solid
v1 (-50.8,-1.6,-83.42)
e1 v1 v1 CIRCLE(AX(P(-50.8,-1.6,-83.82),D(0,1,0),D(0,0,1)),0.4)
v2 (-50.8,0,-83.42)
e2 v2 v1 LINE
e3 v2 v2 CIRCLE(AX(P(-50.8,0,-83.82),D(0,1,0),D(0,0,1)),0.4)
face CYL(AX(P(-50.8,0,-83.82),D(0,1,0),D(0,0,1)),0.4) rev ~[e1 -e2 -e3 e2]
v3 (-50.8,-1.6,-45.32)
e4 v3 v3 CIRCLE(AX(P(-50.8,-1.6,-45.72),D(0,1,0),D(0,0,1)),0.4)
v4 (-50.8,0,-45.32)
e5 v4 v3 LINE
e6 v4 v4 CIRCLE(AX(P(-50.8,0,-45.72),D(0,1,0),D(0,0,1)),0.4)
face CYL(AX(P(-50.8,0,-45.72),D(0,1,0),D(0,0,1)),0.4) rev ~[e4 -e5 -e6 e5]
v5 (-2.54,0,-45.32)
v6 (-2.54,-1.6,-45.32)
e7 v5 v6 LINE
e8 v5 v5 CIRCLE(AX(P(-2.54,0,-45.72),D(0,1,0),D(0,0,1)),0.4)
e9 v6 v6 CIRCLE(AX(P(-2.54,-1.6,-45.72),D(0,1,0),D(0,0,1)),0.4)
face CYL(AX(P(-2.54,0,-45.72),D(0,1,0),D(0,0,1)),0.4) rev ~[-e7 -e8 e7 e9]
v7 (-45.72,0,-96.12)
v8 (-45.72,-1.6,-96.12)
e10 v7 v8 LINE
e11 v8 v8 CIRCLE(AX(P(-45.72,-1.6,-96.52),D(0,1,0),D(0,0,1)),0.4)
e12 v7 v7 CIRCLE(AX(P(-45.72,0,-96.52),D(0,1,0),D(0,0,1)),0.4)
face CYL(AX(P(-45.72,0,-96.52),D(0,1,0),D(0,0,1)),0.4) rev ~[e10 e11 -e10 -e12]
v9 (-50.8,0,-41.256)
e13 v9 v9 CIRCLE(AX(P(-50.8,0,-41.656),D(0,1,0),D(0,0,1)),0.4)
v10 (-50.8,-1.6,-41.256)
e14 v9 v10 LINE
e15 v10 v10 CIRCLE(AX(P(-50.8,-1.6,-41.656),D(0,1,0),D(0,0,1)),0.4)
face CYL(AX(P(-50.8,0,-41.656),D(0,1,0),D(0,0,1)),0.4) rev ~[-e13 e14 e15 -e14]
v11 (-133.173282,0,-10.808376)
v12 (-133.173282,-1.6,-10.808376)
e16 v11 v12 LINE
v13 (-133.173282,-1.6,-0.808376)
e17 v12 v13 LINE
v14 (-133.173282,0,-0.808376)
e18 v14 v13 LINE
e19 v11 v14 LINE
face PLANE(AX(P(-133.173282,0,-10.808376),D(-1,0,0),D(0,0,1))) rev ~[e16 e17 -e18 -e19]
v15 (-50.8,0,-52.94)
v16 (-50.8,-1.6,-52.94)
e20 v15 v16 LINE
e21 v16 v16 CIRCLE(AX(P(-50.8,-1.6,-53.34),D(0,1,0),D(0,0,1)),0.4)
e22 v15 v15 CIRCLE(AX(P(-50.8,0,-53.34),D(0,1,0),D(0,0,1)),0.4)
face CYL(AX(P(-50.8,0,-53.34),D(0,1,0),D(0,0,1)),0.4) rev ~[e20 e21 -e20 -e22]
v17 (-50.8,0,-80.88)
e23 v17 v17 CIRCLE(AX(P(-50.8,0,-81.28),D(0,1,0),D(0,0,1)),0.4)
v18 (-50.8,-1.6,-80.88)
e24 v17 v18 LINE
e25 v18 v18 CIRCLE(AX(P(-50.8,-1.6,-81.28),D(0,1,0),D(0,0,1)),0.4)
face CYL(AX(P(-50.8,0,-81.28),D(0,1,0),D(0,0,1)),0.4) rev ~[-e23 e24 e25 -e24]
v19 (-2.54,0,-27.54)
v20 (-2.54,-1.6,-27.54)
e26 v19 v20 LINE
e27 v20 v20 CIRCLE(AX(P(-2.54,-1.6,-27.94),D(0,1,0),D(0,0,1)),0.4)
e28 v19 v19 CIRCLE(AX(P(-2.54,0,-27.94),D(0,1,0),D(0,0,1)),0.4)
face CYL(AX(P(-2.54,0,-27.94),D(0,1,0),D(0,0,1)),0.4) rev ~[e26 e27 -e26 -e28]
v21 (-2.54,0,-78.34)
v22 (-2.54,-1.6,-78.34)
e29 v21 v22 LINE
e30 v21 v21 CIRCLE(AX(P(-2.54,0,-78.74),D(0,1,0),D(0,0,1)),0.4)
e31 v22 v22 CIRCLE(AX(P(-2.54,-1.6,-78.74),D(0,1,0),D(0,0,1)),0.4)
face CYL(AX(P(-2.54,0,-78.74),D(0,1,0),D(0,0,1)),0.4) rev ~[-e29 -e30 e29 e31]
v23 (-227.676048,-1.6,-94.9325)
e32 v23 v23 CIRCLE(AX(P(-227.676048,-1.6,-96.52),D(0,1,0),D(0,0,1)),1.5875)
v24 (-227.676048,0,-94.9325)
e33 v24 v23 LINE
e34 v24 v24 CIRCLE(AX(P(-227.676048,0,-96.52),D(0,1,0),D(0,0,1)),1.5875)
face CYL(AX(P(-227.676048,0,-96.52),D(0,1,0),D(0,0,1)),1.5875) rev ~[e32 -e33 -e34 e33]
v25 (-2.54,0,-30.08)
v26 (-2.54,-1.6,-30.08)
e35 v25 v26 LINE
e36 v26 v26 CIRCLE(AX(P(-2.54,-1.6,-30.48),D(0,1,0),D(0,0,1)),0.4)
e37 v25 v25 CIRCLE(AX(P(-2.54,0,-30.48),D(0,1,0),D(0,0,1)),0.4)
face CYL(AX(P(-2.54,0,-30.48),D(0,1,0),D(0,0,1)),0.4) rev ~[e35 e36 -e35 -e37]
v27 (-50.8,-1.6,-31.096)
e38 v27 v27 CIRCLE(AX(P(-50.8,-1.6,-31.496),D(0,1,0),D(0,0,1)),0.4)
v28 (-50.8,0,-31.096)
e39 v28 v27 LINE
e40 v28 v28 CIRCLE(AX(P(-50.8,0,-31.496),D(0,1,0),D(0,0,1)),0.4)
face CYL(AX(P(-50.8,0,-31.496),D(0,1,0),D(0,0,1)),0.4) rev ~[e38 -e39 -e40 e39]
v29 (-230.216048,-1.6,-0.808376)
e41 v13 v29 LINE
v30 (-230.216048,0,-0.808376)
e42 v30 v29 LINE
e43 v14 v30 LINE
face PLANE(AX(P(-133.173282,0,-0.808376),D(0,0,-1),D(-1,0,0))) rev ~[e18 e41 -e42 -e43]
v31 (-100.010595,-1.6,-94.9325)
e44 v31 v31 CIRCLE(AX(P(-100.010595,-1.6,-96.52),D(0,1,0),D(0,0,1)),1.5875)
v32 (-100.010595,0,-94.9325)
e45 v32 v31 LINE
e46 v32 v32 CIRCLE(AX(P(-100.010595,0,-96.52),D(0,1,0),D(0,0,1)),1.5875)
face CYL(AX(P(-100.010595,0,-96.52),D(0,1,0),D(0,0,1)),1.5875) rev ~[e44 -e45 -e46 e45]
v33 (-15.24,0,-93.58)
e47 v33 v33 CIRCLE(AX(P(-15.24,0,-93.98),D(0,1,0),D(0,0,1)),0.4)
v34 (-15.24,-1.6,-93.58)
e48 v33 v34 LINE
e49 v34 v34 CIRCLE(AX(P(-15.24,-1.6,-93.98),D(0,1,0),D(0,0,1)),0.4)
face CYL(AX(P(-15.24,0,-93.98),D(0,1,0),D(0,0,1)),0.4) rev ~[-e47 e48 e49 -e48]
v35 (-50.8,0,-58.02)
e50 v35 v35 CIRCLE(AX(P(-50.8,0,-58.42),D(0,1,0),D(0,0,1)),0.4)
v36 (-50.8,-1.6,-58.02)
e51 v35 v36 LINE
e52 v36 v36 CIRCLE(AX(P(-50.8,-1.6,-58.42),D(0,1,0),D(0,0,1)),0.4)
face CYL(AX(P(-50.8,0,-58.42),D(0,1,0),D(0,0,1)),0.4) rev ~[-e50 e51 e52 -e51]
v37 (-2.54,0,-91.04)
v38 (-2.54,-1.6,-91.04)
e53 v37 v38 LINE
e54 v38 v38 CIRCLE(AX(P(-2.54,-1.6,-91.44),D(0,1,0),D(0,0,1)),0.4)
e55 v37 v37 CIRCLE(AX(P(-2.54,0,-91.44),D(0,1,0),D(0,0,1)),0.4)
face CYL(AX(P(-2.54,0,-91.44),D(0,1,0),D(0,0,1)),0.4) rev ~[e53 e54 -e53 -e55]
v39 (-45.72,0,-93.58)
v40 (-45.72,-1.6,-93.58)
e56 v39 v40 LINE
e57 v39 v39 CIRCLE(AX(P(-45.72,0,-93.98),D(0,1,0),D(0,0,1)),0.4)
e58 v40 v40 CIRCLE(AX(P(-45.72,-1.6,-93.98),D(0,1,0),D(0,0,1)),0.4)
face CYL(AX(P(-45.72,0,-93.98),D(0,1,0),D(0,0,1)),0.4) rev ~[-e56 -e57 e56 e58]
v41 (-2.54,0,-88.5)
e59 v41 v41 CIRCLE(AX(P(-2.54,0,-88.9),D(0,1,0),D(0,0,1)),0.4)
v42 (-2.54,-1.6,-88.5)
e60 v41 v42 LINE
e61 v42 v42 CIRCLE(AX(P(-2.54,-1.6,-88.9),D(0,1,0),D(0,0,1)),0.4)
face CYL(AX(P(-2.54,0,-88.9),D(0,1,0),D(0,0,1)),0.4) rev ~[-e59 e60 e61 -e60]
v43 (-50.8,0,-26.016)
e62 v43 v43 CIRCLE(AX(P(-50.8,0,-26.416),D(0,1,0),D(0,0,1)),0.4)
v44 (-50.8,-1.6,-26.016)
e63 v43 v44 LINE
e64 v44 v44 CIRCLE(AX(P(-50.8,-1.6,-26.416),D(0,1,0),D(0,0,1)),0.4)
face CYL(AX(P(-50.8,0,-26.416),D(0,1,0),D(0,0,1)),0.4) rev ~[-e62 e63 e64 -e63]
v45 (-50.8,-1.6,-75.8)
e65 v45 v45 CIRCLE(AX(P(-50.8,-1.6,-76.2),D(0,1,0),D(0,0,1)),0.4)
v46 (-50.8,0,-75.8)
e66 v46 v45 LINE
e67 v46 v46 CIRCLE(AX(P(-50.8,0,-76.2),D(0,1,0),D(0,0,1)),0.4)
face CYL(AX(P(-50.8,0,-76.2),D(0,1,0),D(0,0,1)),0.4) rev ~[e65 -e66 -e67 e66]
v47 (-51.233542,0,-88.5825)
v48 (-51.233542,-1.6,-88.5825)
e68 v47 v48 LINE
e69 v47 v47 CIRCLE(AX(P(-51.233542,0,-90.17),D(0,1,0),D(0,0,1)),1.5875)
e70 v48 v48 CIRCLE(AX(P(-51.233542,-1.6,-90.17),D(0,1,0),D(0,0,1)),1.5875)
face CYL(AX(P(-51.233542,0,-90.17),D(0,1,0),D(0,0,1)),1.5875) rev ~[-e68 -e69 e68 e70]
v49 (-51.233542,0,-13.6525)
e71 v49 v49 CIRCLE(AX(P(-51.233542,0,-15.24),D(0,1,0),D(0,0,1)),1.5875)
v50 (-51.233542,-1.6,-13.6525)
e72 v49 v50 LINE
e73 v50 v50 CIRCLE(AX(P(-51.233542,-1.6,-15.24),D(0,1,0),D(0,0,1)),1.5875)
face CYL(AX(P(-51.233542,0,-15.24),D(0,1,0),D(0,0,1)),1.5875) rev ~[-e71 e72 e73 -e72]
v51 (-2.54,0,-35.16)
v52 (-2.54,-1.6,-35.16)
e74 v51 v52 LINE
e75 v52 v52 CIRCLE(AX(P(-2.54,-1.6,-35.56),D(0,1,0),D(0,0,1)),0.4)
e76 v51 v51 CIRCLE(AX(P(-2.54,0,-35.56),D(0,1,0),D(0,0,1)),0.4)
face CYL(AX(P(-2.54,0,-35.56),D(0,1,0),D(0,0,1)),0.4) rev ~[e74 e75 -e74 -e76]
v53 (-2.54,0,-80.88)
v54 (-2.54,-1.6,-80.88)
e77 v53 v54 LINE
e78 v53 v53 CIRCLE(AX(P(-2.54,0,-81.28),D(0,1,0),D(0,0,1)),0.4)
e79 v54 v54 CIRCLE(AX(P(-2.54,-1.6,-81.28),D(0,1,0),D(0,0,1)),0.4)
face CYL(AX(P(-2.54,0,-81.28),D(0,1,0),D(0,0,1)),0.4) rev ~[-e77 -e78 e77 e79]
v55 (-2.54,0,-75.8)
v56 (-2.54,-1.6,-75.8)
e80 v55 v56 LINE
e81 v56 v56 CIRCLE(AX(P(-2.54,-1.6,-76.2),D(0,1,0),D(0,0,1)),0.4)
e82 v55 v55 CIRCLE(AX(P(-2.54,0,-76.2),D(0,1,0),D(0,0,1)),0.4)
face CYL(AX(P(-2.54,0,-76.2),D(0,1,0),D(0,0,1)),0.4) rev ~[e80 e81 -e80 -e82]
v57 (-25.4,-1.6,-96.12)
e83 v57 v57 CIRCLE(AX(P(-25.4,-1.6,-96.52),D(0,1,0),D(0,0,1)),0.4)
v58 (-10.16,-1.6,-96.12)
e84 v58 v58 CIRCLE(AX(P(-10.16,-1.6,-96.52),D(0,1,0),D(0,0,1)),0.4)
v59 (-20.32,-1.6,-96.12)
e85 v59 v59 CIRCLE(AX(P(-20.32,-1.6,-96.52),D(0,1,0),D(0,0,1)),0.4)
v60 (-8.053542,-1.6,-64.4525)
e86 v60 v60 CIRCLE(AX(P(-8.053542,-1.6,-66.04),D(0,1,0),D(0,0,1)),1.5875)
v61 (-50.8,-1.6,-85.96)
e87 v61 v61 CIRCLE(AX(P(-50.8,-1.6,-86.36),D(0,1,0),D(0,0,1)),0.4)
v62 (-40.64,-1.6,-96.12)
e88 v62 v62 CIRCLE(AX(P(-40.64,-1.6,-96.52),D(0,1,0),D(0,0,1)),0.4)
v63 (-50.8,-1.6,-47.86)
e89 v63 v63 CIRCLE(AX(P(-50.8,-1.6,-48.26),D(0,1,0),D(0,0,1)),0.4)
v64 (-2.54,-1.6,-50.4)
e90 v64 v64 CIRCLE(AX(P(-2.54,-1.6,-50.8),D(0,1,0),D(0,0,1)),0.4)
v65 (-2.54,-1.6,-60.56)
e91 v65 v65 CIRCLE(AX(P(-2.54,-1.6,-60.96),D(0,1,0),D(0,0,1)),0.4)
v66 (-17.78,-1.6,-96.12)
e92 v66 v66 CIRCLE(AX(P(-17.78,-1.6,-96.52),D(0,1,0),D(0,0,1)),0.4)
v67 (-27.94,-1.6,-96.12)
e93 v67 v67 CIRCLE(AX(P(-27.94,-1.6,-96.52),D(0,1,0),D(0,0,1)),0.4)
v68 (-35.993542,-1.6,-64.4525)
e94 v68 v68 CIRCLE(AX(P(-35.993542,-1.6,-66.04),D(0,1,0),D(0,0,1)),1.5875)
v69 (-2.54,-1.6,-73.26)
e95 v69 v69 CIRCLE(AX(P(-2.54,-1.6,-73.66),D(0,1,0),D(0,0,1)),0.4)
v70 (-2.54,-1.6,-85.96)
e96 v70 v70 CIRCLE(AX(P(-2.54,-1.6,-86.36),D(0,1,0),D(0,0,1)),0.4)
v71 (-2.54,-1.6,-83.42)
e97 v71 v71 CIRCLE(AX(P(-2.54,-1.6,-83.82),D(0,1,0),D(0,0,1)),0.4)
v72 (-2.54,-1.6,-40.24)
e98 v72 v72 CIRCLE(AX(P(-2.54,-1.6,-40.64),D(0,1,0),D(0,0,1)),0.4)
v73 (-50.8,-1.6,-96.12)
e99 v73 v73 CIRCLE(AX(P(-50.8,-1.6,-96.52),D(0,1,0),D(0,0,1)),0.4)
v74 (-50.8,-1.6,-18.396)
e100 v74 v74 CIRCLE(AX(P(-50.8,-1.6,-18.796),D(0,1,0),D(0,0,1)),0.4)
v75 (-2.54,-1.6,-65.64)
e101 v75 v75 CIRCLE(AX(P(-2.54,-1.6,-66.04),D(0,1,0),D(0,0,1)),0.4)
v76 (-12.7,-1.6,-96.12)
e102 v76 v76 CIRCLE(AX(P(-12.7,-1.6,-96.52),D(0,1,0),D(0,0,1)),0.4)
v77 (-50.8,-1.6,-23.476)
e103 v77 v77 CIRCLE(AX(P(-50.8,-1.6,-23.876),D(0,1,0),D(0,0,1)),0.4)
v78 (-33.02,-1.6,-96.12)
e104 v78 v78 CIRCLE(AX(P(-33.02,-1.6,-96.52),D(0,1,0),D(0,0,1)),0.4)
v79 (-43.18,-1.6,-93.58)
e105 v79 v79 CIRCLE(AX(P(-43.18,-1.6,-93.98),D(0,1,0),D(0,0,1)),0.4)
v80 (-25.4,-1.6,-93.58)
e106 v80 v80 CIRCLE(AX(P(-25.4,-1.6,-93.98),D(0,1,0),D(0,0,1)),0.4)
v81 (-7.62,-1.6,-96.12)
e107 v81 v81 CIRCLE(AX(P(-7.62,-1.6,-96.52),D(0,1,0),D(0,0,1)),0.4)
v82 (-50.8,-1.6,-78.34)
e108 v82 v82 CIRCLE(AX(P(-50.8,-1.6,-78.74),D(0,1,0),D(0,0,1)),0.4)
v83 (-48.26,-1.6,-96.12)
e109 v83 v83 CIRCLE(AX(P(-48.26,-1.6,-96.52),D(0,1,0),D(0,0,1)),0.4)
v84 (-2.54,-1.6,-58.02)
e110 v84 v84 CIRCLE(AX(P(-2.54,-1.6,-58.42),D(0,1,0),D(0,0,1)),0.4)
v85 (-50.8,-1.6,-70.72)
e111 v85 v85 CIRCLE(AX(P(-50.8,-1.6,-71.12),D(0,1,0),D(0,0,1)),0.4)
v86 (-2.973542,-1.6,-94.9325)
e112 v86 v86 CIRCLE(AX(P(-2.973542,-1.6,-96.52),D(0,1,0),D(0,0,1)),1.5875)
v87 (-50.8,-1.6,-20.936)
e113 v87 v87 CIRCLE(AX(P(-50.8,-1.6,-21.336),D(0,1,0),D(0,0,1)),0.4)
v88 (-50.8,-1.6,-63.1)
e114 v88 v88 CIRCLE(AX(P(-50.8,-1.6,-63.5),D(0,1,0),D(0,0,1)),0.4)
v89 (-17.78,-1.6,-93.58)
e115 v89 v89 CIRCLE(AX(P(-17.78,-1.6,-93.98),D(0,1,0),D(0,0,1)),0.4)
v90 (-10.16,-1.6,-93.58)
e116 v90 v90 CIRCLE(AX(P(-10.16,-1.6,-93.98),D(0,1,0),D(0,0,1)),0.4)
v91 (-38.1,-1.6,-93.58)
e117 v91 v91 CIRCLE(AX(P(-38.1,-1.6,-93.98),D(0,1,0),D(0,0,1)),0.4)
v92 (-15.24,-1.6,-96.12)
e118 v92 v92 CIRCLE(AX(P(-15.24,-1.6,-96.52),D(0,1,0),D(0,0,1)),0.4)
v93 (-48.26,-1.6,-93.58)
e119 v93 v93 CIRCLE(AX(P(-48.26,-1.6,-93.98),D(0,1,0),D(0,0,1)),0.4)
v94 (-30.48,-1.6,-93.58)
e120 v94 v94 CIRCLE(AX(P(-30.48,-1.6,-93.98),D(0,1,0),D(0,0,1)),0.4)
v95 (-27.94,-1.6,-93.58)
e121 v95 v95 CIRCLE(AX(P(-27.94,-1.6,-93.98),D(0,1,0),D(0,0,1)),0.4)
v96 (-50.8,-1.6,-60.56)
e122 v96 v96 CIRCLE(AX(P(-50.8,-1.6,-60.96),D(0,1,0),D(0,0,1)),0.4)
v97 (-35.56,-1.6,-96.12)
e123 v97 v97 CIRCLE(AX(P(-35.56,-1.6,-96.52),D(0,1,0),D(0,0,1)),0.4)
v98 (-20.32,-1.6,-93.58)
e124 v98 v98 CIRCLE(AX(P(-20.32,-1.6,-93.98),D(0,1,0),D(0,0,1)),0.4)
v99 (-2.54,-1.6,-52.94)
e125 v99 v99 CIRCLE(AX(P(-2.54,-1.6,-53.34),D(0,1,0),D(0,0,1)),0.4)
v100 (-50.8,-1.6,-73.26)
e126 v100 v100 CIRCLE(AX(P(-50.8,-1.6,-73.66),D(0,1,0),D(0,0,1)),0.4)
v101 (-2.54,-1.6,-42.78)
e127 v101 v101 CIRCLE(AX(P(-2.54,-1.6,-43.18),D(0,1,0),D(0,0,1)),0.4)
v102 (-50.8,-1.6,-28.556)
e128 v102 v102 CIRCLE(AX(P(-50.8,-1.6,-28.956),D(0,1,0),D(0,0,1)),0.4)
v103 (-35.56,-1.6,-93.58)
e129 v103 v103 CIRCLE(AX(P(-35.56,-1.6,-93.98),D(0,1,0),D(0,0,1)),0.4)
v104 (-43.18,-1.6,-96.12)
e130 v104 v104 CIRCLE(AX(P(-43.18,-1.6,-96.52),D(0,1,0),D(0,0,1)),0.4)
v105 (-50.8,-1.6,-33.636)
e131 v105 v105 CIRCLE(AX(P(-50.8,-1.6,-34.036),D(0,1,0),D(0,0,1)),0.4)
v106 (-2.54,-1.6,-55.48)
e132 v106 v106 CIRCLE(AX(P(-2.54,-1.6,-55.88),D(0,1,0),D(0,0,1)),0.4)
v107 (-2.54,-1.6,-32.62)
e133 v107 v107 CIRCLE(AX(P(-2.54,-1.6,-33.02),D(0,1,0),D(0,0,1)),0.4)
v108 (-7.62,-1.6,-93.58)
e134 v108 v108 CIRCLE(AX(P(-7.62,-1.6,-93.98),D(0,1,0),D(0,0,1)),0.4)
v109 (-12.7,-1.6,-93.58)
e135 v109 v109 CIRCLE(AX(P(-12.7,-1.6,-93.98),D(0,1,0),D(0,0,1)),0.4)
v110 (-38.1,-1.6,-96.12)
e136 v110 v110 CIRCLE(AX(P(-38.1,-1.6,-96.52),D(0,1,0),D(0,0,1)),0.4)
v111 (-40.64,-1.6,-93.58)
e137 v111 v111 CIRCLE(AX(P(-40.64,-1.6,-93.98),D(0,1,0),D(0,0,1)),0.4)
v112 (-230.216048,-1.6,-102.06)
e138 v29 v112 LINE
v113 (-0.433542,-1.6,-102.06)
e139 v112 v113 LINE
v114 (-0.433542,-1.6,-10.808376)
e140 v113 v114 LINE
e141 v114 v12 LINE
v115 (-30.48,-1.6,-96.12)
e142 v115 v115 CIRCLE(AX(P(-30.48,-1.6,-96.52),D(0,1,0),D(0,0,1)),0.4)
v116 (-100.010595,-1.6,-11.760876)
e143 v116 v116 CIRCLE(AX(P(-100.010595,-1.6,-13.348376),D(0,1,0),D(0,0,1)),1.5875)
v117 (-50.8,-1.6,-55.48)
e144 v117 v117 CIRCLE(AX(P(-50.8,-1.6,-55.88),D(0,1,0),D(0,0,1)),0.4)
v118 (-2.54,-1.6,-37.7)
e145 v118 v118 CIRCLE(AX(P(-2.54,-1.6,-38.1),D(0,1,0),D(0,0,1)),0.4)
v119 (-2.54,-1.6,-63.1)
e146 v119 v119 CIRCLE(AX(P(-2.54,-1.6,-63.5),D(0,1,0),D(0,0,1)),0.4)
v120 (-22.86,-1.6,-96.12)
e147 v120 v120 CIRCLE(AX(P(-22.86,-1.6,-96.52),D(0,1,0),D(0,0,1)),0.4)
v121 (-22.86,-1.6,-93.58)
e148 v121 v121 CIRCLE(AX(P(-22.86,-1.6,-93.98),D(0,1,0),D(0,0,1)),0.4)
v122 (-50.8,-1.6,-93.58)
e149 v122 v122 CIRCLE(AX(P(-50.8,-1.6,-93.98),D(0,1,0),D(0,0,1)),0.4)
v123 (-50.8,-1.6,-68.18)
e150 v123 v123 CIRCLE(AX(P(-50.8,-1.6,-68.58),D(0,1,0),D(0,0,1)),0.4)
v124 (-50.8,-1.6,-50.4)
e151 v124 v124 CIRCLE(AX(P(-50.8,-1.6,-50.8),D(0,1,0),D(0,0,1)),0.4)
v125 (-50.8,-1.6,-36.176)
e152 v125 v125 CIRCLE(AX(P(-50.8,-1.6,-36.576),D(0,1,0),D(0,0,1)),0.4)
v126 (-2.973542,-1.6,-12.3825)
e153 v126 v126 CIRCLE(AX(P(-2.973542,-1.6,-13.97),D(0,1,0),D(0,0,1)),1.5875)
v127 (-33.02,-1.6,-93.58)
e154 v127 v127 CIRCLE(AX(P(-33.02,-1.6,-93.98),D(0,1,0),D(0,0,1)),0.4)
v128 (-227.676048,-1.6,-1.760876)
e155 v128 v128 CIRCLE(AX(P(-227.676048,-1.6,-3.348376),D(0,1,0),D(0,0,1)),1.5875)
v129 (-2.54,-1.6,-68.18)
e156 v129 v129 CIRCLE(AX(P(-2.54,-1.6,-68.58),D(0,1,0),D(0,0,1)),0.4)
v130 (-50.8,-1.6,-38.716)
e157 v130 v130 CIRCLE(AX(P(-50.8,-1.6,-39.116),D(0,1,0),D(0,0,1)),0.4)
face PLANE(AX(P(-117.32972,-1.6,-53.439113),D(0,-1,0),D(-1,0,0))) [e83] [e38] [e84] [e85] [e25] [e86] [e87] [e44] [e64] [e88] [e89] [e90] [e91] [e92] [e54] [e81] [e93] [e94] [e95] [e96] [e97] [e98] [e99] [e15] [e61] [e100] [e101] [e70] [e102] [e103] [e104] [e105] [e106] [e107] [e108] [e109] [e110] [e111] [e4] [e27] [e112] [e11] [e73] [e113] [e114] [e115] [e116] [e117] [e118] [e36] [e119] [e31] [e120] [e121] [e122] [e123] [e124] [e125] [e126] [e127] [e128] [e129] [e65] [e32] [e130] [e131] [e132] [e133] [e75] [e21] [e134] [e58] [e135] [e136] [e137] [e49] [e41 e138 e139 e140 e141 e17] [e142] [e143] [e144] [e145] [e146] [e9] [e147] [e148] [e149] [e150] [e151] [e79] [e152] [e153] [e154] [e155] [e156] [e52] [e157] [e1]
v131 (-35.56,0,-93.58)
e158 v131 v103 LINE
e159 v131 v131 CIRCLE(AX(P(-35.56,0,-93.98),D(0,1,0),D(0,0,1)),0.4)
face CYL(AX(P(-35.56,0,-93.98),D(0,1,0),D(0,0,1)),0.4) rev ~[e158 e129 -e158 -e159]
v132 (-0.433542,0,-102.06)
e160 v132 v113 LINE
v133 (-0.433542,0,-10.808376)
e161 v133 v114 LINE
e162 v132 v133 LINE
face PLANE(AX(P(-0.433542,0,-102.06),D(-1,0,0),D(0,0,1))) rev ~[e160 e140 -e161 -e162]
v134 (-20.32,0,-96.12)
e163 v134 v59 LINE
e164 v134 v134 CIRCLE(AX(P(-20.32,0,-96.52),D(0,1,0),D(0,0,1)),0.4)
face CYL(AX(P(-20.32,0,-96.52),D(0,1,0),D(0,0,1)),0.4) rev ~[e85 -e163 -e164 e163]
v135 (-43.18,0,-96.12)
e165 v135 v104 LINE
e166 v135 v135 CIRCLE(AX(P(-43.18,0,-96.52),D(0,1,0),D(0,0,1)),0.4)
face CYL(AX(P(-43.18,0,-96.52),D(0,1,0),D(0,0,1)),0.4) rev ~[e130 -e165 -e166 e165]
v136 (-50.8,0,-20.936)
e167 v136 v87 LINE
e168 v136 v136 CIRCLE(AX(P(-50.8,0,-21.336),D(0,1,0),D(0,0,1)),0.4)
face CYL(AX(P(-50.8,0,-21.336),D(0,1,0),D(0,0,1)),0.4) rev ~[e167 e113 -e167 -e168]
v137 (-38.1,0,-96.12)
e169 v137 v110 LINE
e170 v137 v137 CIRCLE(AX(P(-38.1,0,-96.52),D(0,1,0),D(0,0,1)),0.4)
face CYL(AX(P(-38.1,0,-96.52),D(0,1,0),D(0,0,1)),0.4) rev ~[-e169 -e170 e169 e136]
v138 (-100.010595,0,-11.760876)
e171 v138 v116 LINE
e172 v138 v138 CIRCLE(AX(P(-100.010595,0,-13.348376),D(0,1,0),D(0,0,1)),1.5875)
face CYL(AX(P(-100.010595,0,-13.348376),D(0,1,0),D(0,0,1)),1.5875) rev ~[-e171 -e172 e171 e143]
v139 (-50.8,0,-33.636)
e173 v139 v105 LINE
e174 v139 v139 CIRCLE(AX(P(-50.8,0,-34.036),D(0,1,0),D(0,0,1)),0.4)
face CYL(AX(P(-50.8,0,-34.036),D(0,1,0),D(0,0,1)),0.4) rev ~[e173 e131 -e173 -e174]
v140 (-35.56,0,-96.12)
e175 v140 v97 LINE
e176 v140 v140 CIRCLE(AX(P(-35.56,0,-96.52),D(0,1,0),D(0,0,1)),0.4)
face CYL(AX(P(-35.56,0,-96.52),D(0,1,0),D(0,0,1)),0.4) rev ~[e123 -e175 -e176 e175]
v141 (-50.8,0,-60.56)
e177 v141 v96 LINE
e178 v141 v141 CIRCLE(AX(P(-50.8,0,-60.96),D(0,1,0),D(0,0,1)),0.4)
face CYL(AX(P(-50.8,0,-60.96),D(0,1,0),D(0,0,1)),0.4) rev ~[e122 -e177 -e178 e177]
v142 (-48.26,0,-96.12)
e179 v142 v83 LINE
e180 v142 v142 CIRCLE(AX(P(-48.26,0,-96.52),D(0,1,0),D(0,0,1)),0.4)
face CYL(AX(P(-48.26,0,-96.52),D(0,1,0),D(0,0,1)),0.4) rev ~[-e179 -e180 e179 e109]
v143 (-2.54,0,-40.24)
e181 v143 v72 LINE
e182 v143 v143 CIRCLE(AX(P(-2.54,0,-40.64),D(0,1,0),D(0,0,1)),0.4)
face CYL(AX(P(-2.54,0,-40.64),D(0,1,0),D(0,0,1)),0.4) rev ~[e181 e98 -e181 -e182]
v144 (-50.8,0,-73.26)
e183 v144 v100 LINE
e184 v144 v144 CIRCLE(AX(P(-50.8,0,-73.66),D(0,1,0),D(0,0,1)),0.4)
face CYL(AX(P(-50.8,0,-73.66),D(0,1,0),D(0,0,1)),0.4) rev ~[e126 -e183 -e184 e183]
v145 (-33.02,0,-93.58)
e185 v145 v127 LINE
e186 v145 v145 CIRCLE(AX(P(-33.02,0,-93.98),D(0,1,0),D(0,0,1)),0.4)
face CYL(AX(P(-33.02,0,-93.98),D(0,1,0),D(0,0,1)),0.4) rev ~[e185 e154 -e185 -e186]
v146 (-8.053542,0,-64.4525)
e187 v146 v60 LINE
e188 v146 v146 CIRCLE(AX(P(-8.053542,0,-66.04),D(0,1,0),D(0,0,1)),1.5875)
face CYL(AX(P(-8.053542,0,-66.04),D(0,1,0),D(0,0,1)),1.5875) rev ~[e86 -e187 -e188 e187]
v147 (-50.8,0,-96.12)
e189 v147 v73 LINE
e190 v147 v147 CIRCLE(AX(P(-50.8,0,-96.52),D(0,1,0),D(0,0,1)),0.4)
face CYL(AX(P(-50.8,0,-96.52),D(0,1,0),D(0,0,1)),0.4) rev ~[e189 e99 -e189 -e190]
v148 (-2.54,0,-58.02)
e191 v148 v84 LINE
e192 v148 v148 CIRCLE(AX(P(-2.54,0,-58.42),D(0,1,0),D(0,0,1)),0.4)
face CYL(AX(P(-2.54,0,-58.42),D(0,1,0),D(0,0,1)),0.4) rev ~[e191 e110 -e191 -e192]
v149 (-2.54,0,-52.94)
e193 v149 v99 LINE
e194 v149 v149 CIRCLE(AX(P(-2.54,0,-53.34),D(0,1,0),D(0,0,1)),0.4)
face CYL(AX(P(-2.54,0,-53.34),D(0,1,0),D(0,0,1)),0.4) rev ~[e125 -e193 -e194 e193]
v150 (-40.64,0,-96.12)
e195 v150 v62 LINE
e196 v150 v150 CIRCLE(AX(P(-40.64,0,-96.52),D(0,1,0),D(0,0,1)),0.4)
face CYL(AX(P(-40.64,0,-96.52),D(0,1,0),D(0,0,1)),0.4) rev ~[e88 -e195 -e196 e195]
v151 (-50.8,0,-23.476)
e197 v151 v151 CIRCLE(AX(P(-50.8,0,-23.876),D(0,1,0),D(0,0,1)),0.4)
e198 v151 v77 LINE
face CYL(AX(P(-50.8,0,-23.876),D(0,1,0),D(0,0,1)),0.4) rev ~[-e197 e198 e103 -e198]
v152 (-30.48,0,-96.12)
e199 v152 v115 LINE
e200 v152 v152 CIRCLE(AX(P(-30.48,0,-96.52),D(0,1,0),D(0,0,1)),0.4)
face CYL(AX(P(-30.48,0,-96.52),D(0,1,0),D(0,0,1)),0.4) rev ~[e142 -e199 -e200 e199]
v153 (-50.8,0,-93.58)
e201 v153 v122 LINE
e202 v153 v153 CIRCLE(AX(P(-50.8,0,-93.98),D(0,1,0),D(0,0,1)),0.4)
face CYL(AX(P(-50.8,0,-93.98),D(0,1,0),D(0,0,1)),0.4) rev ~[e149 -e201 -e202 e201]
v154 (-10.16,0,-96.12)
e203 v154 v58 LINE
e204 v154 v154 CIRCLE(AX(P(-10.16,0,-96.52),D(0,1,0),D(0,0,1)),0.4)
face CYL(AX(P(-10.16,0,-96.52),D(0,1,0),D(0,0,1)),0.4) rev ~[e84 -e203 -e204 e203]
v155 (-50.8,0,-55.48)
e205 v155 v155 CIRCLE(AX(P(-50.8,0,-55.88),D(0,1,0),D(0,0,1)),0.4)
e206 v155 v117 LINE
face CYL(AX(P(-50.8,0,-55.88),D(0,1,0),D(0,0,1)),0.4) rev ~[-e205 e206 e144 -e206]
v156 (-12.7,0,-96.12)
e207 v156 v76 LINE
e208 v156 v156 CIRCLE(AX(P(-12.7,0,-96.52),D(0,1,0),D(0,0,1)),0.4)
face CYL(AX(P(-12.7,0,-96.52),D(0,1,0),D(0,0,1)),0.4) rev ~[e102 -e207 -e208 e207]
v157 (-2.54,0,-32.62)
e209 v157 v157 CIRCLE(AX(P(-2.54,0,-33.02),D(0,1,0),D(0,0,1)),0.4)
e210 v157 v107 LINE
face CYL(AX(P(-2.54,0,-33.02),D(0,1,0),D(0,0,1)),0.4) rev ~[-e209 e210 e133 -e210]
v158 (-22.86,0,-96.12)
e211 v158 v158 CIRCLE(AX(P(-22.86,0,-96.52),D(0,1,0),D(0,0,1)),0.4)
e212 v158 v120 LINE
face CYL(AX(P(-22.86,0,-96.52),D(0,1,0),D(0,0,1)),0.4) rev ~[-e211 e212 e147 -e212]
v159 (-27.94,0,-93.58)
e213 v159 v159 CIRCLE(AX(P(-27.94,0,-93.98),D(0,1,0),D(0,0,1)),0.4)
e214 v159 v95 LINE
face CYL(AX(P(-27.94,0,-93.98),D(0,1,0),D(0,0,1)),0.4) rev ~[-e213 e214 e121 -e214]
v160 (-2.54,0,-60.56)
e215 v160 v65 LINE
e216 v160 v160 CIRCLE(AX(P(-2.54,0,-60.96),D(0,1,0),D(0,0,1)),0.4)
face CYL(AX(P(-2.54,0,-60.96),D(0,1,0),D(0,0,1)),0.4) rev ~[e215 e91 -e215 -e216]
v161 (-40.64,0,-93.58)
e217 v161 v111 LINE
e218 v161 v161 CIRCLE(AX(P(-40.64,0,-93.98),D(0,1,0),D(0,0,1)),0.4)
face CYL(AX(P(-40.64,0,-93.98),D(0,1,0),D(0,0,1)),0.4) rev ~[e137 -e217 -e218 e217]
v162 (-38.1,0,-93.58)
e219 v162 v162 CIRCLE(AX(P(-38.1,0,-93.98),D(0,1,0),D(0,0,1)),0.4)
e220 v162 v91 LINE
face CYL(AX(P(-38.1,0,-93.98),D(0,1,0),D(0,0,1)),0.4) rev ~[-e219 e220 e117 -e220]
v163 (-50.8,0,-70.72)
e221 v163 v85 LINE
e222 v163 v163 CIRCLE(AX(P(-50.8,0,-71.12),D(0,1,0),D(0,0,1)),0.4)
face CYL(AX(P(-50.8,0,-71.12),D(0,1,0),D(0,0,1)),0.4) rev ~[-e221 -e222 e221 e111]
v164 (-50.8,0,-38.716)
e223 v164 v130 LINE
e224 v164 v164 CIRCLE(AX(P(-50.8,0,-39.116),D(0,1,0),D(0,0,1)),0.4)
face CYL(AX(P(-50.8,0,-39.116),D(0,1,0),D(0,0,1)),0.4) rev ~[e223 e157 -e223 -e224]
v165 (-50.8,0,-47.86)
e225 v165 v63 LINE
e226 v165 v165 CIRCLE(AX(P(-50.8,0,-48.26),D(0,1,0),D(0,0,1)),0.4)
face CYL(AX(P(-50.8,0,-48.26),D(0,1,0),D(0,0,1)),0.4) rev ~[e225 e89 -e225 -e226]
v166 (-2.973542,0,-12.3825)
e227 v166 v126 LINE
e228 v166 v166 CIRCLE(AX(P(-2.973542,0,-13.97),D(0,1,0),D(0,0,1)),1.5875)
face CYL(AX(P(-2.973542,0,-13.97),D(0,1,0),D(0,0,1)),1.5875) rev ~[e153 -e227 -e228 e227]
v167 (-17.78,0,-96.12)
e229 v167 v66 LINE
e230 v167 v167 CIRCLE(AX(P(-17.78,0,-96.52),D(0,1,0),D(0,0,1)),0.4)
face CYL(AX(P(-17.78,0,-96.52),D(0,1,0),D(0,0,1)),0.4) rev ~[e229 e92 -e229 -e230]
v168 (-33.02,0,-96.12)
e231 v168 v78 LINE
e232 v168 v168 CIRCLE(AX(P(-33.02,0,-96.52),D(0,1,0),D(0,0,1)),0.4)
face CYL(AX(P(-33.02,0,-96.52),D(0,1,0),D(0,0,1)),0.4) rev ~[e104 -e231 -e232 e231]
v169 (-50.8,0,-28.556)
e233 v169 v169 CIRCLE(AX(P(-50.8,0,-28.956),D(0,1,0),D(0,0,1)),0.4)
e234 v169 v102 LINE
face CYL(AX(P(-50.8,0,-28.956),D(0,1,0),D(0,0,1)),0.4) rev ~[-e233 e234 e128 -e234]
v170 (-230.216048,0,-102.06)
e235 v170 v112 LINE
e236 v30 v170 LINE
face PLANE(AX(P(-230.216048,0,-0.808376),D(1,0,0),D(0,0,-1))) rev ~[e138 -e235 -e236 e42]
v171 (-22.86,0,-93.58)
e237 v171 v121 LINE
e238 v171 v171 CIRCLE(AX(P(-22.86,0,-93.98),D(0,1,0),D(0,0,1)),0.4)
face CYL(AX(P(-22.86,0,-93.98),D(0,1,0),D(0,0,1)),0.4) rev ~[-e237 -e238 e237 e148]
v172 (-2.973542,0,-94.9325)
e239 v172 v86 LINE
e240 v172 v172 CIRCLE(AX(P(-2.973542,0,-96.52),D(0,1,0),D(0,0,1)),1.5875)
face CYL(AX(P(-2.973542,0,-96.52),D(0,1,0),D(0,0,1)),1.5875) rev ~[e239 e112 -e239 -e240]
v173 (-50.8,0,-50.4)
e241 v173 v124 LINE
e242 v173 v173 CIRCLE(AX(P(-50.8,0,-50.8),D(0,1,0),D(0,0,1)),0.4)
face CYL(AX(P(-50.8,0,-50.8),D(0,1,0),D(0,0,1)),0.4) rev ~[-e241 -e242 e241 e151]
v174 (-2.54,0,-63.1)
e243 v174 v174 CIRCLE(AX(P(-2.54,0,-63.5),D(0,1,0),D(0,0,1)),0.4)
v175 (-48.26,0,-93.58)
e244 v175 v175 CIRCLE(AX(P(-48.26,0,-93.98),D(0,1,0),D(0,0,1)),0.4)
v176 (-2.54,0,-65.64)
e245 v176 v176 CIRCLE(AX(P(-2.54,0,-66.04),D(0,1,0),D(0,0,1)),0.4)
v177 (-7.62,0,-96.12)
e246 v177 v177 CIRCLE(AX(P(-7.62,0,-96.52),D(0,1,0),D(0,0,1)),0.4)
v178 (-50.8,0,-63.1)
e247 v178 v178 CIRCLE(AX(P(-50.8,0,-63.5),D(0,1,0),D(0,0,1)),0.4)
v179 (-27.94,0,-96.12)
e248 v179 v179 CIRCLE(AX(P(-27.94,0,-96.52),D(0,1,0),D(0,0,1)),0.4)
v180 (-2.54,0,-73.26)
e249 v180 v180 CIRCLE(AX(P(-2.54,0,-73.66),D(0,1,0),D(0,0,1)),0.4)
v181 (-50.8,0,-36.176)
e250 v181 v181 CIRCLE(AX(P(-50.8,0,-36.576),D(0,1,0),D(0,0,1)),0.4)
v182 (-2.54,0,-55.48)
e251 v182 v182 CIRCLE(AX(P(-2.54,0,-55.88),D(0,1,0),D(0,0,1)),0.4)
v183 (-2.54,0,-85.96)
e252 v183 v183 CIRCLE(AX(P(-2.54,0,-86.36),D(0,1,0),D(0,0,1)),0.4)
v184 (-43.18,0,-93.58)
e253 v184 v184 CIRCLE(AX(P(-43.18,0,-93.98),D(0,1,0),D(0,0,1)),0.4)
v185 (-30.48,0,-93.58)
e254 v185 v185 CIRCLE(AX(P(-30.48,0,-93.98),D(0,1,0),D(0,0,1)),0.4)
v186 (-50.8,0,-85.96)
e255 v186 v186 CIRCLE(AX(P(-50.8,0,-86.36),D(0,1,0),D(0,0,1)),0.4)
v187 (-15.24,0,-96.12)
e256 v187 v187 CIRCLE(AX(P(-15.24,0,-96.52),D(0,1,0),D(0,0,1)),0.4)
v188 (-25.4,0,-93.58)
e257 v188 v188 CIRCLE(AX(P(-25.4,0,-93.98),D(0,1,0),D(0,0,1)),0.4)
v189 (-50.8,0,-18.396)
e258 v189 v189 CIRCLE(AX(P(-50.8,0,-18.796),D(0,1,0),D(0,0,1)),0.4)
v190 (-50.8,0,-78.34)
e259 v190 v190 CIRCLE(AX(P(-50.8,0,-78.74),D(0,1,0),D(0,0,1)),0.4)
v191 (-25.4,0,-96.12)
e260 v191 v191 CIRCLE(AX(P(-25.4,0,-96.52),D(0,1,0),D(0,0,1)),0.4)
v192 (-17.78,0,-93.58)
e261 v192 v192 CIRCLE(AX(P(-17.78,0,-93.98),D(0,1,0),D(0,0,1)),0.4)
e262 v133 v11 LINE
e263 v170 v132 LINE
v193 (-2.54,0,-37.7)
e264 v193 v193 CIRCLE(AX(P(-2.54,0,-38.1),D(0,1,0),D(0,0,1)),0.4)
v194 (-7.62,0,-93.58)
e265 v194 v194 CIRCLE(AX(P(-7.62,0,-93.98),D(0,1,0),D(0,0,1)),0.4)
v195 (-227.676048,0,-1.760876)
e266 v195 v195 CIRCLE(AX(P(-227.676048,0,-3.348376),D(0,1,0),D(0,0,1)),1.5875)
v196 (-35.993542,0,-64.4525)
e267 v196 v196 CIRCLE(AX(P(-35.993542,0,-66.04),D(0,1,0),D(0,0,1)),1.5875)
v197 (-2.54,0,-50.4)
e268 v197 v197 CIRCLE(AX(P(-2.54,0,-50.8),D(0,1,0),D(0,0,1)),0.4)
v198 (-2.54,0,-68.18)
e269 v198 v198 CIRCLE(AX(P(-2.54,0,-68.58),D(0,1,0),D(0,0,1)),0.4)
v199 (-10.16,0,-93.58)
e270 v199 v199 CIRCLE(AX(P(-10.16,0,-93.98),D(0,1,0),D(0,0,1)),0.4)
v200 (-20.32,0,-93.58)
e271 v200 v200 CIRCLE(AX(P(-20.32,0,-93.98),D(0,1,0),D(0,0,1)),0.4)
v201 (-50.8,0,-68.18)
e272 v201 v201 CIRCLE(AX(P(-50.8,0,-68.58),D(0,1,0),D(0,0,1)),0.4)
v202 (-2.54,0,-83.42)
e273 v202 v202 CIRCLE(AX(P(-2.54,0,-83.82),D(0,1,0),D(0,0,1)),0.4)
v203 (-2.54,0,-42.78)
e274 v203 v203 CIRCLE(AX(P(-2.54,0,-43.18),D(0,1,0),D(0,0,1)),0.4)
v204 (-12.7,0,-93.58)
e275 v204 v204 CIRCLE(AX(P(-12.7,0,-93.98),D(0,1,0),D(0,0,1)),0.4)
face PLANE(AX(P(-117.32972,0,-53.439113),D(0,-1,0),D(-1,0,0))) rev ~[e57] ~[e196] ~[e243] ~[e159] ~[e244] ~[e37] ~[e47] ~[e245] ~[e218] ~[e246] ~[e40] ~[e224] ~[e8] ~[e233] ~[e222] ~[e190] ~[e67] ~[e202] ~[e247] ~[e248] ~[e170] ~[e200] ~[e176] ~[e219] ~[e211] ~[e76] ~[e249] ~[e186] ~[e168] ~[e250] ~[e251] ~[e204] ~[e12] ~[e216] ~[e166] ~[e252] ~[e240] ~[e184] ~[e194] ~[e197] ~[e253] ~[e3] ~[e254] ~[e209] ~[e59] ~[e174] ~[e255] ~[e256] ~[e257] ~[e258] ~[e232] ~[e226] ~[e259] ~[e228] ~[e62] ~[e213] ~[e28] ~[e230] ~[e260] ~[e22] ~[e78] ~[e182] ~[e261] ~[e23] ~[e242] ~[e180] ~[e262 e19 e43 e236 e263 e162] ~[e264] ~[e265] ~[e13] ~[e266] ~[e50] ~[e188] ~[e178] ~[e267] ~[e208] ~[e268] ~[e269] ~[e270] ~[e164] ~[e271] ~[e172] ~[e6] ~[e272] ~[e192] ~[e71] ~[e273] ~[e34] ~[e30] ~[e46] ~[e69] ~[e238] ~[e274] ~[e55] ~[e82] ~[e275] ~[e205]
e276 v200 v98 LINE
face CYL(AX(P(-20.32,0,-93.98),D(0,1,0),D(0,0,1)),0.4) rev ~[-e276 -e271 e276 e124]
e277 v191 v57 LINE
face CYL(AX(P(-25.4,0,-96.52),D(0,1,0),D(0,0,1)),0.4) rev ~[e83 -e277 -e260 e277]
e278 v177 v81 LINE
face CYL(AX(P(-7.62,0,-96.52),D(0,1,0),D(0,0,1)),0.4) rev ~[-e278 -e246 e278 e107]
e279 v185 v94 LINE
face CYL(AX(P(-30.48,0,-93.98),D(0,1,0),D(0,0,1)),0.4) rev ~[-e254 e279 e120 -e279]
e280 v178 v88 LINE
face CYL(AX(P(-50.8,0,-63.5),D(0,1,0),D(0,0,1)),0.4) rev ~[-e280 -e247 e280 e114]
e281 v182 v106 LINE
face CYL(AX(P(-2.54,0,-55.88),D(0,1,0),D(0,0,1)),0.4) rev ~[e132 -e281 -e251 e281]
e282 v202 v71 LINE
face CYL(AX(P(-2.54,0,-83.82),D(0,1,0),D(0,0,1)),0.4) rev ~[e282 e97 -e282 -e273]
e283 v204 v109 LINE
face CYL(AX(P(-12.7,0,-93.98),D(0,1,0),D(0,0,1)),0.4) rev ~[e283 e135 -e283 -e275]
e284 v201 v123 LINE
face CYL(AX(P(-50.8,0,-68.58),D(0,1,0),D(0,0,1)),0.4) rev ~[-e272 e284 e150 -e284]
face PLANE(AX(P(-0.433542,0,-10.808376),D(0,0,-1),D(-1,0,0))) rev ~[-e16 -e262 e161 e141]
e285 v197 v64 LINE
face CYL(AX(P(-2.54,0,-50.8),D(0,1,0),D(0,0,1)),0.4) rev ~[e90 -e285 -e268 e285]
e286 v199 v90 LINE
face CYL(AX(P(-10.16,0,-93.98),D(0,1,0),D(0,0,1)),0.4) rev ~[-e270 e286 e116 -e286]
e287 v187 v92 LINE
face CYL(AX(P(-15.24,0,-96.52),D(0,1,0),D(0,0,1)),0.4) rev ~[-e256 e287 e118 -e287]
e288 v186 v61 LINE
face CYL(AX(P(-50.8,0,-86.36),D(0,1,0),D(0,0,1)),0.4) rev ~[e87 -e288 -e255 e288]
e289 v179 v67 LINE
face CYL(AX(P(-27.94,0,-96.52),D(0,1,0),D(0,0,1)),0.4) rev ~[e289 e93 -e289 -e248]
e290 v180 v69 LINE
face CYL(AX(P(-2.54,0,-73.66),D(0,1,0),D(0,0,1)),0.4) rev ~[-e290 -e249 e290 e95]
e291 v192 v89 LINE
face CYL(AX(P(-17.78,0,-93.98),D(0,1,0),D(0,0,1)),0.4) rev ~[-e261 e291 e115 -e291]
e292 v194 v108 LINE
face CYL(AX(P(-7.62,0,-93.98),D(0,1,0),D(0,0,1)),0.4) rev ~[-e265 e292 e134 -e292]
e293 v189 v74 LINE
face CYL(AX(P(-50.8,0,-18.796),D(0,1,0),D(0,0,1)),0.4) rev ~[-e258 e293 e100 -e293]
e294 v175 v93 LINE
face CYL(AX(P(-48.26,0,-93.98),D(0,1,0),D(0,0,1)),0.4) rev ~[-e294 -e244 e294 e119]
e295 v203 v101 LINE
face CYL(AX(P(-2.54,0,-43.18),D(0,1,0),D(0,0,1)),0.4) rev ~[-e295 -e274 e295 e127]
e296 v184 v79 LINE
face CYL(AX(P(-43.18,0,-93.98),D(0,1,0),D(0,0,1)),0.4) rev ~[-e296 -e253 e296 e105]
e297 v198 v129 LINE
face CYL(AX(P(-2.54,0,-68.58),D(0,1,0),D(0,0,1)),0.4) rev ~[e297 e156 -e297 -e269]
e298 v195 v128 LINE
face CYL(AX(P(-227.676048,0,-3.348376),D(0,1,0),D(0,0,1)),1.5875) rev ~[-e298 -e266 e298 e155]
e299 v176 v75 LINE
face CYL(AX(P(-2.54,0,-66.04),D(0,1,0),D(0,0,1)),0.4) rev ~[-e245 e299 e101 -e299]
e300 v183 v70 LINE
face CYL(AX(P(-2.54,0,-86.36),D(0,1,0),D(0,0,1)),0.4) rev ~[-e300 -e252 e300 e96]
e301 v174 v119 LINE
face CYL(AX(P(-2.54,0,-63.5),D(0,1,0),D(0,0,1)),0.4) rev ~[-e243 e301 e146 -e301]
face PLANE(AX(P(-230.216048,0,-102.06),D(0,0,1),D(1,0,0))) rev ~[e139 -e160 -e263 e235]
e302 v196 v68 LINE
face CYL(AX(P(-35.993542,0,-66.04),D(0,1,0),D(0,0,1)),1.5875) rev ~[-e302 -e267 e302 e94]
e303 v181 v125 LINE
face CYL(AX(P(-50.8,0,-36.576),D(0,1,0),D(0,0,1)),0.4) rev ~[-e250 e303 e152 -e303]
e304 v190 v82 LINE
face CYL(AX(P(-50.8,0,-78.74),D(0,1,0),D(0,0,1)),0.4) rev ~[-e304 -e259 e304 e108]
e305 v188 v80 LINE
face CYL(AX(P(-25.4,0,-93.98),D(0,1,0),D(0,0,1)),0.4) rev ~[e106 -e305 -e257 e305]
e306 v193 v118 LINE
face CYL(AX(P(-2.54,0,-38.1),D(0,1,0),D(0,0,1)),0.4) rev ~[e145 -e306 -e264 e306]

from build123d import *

# Parameters (mm, degrees)
SKETCH1_R           = 1.5875
BOSS_EXTRUDE1_DEPTH = 1.6
SKETCH2_R           = 0.4
CUT_EXTRUDE1_DEPTH  = 1.65
SKETCH3_R           = 0.4
CUT_EXTRUDE2_DEPTH  = 1.65
LPATTERN1_COUNT     = 26
LPATTERN1_PITCH     = 2.54
SKETCH4_R           = 0.4
CUT_EXTRUDE3_DEPTH  = 1.65
LPATTERN2_COUNT     = 10
LPATTERN2_PITCH     = 2.54
LPATTERN3_COUNT     = 17
LPATTERN3_PITCH     = 2.54
SKETCH7_R           = 0.4
CUT_EXTRUDE6_DEPTH  = 10
LPATTERN4_COUNT     = 18
LPATTERN4_PITCH     = 2.54


with BuildPart() as part:
    # Sketch1 → Boss-Extrude1 (new body)
    with BuildSketch(Plane(origin=(0, 0, 0), x_dir=(1, 0, 0), z_dir=(0, 1, 0))):
        Polygon((-0.433542031, 10.808375706), (-133.173282181, 10.808375706), (-133.173282181, 0.808375706), (-230.216047893, 0.808375706), (-230.216047893, 102.06), (-0.433542031, 102.06), align=None)
        with Locations(Location((-8.053542031, 66.04, 0), (0, 0, 270))):
            Circle(SKETCH1_R, mode=Mode.SUBTRACT)
        with Locations(Location((-35.993542031, 66.04, 0), (0, 0, 270))):
            Circle(SKETCH1_R, mode=Mode.SUBTRACT)
        with Locations(Location((-2.973542031, 13.97, 0), (0, 0, 270))):
            Circle(SKETCH1_R, mode=Mode.SUBTRACT)
        with Locations(Location((-51.233542031, 15.24, 0), (0, 0, 270))):
            Circle(SKETCH1_R, mode=Mode.SUBTRACT)
        with Locations(Location((-2.973542031, 96.52, 0), (0, 0, 270))):
            Circle(SKETCH1_R, mode=Mode.SUBTRACT)
        with Locations(Location((-51.233542031, 90.17, 0), (0, 0, 270))):
            Circle(SKETCH1_R, mode=Mode.SUBTRACT)
        with Locations(Location((-227.676047893, 3.348375706, 0), (0, 0, 270))):
            Circle(SKETCH1_R, mode=Mode.SUBTRACT)
        with Locations(Location((-227.676047893, 96.52, 0), (0, 0, 270))):
            Circle(SKETCH1_R, mode=Mode.SUBTRACT)
        with Locations(Location((-100.01059482, 96.52, 0), (0, 0, 270))):
            Circle(SKETCH1_R, mode=Mode.SUBTRACT)
        with Locations(Location((-100.01059482, 13.348375706, 0), (0, 0, 270))):
            Circle(SKETCH1_R, mode=Mode.SUBTRACT)
    extrude(amount=-BOSS_EXTRUDE1_DEPTH)

    # Sketch2 → Cut-Extrude1 (cut)
    with BuildSketch(Plane(origin=(0, 0, 0), x_dir=(1, 0, 0), z_dir=(0, 1, 0))):
        with Locations(Location((-2.54, 27.94, 0), (0, 0, 270))):
            Circle(SKETCH2_R)
    cut_extrude1 = extrude(amount=-CUT_EXTRUDE1_DEPTH, mode=Mode.SUBTRACT)

    # Sketch3 → Cut-Extrude2 (cut)
    with BuildSketch(Plane(origin=(0, 0, 0), x_dir=(1, 0, 0), z_dir=(0, 1, 0))):
        with Locations(Location((-50.8, 18.796, 0), (0, 0, 270))):
            Circle(SKETCH3_R)
    cut_extrude2 = extrude(amount=-CUT_EXTRUDE2_DEPTH, mode=Mode.SUBTRACT)

    # LPattern1: Cut-Extrude1 ×26, 2 skipped
    with Locations(*[(0, 0, -i * LPATTERN1_PITCH) for i in range(1, LPATTERN1_COUNT) if i not in (8, 17)]):
        add(cut_extrude1, mode=Mode.SUBTRACT)

    # Sketch4 → Cut-Extrude3 (cut)
    with BuildSketch(Plane(origin=(0, 0, 0), x_dir=(1, 0, 0), z_dir=(0, 1, 0))):
        with Locations(Location((-50.8, 45.72, 0), (0, 0, 270))):
            Circle(SKETCH4_R)
    cut_extrude3 = extrude(amount=-CUT_EXTRUDE3_DEPTH, mode=Mode.SUBTRACT)

    # LPattern2: Cut-Extrude2 ×10
    with Locations(*[(0, 0, -i * LPATTERN2_PITCH) for i in range(1, LPATTERN2_COUNT)]):
        add(cut_extrude2, mode=Mode.SUBTRACT)

    # LPattern3: Cut-Extrude3 ×17, 1 skipped
    with Locations(*[(0, 0, -i * LPATTERN3_PITCH) for i in range(1, LPATTERN3_COUNT) if i not in (8,)]):
        add(cut_extrude3, mode=Mode.SUBTRACT)

    # Sketch7 → Cut-Extrude6 (cut)
    with BuildSketch(Plane(origin=(0, 0, 0), x_dir=(1, 0, 0), z_dir=(0, 1, 0))):
        with Locations(Location((-50.8, 96.52, 0), (0, 0, 270))):
            Circle(SKETCH7_R)
        with Locations(Location((-50.8, 93.98, 0), (0, 0, 270))):
            Circle(SKETCH7_R)
    cut_extrude6 = extrude(amount=-CUT_EXTRUDE6_DEPTH, mode=Mode.SUBTRACT)

    # LPattern4: Cut-Extrude6 ×18
    with Locations(*[(i * LPATTERN4_PITCH, 0, 0) for i in range(1, LPATTERN4_COUNT)]):
        add(cut_extrude6, mode=Mode.SUBTRACT)


solid = part.part
